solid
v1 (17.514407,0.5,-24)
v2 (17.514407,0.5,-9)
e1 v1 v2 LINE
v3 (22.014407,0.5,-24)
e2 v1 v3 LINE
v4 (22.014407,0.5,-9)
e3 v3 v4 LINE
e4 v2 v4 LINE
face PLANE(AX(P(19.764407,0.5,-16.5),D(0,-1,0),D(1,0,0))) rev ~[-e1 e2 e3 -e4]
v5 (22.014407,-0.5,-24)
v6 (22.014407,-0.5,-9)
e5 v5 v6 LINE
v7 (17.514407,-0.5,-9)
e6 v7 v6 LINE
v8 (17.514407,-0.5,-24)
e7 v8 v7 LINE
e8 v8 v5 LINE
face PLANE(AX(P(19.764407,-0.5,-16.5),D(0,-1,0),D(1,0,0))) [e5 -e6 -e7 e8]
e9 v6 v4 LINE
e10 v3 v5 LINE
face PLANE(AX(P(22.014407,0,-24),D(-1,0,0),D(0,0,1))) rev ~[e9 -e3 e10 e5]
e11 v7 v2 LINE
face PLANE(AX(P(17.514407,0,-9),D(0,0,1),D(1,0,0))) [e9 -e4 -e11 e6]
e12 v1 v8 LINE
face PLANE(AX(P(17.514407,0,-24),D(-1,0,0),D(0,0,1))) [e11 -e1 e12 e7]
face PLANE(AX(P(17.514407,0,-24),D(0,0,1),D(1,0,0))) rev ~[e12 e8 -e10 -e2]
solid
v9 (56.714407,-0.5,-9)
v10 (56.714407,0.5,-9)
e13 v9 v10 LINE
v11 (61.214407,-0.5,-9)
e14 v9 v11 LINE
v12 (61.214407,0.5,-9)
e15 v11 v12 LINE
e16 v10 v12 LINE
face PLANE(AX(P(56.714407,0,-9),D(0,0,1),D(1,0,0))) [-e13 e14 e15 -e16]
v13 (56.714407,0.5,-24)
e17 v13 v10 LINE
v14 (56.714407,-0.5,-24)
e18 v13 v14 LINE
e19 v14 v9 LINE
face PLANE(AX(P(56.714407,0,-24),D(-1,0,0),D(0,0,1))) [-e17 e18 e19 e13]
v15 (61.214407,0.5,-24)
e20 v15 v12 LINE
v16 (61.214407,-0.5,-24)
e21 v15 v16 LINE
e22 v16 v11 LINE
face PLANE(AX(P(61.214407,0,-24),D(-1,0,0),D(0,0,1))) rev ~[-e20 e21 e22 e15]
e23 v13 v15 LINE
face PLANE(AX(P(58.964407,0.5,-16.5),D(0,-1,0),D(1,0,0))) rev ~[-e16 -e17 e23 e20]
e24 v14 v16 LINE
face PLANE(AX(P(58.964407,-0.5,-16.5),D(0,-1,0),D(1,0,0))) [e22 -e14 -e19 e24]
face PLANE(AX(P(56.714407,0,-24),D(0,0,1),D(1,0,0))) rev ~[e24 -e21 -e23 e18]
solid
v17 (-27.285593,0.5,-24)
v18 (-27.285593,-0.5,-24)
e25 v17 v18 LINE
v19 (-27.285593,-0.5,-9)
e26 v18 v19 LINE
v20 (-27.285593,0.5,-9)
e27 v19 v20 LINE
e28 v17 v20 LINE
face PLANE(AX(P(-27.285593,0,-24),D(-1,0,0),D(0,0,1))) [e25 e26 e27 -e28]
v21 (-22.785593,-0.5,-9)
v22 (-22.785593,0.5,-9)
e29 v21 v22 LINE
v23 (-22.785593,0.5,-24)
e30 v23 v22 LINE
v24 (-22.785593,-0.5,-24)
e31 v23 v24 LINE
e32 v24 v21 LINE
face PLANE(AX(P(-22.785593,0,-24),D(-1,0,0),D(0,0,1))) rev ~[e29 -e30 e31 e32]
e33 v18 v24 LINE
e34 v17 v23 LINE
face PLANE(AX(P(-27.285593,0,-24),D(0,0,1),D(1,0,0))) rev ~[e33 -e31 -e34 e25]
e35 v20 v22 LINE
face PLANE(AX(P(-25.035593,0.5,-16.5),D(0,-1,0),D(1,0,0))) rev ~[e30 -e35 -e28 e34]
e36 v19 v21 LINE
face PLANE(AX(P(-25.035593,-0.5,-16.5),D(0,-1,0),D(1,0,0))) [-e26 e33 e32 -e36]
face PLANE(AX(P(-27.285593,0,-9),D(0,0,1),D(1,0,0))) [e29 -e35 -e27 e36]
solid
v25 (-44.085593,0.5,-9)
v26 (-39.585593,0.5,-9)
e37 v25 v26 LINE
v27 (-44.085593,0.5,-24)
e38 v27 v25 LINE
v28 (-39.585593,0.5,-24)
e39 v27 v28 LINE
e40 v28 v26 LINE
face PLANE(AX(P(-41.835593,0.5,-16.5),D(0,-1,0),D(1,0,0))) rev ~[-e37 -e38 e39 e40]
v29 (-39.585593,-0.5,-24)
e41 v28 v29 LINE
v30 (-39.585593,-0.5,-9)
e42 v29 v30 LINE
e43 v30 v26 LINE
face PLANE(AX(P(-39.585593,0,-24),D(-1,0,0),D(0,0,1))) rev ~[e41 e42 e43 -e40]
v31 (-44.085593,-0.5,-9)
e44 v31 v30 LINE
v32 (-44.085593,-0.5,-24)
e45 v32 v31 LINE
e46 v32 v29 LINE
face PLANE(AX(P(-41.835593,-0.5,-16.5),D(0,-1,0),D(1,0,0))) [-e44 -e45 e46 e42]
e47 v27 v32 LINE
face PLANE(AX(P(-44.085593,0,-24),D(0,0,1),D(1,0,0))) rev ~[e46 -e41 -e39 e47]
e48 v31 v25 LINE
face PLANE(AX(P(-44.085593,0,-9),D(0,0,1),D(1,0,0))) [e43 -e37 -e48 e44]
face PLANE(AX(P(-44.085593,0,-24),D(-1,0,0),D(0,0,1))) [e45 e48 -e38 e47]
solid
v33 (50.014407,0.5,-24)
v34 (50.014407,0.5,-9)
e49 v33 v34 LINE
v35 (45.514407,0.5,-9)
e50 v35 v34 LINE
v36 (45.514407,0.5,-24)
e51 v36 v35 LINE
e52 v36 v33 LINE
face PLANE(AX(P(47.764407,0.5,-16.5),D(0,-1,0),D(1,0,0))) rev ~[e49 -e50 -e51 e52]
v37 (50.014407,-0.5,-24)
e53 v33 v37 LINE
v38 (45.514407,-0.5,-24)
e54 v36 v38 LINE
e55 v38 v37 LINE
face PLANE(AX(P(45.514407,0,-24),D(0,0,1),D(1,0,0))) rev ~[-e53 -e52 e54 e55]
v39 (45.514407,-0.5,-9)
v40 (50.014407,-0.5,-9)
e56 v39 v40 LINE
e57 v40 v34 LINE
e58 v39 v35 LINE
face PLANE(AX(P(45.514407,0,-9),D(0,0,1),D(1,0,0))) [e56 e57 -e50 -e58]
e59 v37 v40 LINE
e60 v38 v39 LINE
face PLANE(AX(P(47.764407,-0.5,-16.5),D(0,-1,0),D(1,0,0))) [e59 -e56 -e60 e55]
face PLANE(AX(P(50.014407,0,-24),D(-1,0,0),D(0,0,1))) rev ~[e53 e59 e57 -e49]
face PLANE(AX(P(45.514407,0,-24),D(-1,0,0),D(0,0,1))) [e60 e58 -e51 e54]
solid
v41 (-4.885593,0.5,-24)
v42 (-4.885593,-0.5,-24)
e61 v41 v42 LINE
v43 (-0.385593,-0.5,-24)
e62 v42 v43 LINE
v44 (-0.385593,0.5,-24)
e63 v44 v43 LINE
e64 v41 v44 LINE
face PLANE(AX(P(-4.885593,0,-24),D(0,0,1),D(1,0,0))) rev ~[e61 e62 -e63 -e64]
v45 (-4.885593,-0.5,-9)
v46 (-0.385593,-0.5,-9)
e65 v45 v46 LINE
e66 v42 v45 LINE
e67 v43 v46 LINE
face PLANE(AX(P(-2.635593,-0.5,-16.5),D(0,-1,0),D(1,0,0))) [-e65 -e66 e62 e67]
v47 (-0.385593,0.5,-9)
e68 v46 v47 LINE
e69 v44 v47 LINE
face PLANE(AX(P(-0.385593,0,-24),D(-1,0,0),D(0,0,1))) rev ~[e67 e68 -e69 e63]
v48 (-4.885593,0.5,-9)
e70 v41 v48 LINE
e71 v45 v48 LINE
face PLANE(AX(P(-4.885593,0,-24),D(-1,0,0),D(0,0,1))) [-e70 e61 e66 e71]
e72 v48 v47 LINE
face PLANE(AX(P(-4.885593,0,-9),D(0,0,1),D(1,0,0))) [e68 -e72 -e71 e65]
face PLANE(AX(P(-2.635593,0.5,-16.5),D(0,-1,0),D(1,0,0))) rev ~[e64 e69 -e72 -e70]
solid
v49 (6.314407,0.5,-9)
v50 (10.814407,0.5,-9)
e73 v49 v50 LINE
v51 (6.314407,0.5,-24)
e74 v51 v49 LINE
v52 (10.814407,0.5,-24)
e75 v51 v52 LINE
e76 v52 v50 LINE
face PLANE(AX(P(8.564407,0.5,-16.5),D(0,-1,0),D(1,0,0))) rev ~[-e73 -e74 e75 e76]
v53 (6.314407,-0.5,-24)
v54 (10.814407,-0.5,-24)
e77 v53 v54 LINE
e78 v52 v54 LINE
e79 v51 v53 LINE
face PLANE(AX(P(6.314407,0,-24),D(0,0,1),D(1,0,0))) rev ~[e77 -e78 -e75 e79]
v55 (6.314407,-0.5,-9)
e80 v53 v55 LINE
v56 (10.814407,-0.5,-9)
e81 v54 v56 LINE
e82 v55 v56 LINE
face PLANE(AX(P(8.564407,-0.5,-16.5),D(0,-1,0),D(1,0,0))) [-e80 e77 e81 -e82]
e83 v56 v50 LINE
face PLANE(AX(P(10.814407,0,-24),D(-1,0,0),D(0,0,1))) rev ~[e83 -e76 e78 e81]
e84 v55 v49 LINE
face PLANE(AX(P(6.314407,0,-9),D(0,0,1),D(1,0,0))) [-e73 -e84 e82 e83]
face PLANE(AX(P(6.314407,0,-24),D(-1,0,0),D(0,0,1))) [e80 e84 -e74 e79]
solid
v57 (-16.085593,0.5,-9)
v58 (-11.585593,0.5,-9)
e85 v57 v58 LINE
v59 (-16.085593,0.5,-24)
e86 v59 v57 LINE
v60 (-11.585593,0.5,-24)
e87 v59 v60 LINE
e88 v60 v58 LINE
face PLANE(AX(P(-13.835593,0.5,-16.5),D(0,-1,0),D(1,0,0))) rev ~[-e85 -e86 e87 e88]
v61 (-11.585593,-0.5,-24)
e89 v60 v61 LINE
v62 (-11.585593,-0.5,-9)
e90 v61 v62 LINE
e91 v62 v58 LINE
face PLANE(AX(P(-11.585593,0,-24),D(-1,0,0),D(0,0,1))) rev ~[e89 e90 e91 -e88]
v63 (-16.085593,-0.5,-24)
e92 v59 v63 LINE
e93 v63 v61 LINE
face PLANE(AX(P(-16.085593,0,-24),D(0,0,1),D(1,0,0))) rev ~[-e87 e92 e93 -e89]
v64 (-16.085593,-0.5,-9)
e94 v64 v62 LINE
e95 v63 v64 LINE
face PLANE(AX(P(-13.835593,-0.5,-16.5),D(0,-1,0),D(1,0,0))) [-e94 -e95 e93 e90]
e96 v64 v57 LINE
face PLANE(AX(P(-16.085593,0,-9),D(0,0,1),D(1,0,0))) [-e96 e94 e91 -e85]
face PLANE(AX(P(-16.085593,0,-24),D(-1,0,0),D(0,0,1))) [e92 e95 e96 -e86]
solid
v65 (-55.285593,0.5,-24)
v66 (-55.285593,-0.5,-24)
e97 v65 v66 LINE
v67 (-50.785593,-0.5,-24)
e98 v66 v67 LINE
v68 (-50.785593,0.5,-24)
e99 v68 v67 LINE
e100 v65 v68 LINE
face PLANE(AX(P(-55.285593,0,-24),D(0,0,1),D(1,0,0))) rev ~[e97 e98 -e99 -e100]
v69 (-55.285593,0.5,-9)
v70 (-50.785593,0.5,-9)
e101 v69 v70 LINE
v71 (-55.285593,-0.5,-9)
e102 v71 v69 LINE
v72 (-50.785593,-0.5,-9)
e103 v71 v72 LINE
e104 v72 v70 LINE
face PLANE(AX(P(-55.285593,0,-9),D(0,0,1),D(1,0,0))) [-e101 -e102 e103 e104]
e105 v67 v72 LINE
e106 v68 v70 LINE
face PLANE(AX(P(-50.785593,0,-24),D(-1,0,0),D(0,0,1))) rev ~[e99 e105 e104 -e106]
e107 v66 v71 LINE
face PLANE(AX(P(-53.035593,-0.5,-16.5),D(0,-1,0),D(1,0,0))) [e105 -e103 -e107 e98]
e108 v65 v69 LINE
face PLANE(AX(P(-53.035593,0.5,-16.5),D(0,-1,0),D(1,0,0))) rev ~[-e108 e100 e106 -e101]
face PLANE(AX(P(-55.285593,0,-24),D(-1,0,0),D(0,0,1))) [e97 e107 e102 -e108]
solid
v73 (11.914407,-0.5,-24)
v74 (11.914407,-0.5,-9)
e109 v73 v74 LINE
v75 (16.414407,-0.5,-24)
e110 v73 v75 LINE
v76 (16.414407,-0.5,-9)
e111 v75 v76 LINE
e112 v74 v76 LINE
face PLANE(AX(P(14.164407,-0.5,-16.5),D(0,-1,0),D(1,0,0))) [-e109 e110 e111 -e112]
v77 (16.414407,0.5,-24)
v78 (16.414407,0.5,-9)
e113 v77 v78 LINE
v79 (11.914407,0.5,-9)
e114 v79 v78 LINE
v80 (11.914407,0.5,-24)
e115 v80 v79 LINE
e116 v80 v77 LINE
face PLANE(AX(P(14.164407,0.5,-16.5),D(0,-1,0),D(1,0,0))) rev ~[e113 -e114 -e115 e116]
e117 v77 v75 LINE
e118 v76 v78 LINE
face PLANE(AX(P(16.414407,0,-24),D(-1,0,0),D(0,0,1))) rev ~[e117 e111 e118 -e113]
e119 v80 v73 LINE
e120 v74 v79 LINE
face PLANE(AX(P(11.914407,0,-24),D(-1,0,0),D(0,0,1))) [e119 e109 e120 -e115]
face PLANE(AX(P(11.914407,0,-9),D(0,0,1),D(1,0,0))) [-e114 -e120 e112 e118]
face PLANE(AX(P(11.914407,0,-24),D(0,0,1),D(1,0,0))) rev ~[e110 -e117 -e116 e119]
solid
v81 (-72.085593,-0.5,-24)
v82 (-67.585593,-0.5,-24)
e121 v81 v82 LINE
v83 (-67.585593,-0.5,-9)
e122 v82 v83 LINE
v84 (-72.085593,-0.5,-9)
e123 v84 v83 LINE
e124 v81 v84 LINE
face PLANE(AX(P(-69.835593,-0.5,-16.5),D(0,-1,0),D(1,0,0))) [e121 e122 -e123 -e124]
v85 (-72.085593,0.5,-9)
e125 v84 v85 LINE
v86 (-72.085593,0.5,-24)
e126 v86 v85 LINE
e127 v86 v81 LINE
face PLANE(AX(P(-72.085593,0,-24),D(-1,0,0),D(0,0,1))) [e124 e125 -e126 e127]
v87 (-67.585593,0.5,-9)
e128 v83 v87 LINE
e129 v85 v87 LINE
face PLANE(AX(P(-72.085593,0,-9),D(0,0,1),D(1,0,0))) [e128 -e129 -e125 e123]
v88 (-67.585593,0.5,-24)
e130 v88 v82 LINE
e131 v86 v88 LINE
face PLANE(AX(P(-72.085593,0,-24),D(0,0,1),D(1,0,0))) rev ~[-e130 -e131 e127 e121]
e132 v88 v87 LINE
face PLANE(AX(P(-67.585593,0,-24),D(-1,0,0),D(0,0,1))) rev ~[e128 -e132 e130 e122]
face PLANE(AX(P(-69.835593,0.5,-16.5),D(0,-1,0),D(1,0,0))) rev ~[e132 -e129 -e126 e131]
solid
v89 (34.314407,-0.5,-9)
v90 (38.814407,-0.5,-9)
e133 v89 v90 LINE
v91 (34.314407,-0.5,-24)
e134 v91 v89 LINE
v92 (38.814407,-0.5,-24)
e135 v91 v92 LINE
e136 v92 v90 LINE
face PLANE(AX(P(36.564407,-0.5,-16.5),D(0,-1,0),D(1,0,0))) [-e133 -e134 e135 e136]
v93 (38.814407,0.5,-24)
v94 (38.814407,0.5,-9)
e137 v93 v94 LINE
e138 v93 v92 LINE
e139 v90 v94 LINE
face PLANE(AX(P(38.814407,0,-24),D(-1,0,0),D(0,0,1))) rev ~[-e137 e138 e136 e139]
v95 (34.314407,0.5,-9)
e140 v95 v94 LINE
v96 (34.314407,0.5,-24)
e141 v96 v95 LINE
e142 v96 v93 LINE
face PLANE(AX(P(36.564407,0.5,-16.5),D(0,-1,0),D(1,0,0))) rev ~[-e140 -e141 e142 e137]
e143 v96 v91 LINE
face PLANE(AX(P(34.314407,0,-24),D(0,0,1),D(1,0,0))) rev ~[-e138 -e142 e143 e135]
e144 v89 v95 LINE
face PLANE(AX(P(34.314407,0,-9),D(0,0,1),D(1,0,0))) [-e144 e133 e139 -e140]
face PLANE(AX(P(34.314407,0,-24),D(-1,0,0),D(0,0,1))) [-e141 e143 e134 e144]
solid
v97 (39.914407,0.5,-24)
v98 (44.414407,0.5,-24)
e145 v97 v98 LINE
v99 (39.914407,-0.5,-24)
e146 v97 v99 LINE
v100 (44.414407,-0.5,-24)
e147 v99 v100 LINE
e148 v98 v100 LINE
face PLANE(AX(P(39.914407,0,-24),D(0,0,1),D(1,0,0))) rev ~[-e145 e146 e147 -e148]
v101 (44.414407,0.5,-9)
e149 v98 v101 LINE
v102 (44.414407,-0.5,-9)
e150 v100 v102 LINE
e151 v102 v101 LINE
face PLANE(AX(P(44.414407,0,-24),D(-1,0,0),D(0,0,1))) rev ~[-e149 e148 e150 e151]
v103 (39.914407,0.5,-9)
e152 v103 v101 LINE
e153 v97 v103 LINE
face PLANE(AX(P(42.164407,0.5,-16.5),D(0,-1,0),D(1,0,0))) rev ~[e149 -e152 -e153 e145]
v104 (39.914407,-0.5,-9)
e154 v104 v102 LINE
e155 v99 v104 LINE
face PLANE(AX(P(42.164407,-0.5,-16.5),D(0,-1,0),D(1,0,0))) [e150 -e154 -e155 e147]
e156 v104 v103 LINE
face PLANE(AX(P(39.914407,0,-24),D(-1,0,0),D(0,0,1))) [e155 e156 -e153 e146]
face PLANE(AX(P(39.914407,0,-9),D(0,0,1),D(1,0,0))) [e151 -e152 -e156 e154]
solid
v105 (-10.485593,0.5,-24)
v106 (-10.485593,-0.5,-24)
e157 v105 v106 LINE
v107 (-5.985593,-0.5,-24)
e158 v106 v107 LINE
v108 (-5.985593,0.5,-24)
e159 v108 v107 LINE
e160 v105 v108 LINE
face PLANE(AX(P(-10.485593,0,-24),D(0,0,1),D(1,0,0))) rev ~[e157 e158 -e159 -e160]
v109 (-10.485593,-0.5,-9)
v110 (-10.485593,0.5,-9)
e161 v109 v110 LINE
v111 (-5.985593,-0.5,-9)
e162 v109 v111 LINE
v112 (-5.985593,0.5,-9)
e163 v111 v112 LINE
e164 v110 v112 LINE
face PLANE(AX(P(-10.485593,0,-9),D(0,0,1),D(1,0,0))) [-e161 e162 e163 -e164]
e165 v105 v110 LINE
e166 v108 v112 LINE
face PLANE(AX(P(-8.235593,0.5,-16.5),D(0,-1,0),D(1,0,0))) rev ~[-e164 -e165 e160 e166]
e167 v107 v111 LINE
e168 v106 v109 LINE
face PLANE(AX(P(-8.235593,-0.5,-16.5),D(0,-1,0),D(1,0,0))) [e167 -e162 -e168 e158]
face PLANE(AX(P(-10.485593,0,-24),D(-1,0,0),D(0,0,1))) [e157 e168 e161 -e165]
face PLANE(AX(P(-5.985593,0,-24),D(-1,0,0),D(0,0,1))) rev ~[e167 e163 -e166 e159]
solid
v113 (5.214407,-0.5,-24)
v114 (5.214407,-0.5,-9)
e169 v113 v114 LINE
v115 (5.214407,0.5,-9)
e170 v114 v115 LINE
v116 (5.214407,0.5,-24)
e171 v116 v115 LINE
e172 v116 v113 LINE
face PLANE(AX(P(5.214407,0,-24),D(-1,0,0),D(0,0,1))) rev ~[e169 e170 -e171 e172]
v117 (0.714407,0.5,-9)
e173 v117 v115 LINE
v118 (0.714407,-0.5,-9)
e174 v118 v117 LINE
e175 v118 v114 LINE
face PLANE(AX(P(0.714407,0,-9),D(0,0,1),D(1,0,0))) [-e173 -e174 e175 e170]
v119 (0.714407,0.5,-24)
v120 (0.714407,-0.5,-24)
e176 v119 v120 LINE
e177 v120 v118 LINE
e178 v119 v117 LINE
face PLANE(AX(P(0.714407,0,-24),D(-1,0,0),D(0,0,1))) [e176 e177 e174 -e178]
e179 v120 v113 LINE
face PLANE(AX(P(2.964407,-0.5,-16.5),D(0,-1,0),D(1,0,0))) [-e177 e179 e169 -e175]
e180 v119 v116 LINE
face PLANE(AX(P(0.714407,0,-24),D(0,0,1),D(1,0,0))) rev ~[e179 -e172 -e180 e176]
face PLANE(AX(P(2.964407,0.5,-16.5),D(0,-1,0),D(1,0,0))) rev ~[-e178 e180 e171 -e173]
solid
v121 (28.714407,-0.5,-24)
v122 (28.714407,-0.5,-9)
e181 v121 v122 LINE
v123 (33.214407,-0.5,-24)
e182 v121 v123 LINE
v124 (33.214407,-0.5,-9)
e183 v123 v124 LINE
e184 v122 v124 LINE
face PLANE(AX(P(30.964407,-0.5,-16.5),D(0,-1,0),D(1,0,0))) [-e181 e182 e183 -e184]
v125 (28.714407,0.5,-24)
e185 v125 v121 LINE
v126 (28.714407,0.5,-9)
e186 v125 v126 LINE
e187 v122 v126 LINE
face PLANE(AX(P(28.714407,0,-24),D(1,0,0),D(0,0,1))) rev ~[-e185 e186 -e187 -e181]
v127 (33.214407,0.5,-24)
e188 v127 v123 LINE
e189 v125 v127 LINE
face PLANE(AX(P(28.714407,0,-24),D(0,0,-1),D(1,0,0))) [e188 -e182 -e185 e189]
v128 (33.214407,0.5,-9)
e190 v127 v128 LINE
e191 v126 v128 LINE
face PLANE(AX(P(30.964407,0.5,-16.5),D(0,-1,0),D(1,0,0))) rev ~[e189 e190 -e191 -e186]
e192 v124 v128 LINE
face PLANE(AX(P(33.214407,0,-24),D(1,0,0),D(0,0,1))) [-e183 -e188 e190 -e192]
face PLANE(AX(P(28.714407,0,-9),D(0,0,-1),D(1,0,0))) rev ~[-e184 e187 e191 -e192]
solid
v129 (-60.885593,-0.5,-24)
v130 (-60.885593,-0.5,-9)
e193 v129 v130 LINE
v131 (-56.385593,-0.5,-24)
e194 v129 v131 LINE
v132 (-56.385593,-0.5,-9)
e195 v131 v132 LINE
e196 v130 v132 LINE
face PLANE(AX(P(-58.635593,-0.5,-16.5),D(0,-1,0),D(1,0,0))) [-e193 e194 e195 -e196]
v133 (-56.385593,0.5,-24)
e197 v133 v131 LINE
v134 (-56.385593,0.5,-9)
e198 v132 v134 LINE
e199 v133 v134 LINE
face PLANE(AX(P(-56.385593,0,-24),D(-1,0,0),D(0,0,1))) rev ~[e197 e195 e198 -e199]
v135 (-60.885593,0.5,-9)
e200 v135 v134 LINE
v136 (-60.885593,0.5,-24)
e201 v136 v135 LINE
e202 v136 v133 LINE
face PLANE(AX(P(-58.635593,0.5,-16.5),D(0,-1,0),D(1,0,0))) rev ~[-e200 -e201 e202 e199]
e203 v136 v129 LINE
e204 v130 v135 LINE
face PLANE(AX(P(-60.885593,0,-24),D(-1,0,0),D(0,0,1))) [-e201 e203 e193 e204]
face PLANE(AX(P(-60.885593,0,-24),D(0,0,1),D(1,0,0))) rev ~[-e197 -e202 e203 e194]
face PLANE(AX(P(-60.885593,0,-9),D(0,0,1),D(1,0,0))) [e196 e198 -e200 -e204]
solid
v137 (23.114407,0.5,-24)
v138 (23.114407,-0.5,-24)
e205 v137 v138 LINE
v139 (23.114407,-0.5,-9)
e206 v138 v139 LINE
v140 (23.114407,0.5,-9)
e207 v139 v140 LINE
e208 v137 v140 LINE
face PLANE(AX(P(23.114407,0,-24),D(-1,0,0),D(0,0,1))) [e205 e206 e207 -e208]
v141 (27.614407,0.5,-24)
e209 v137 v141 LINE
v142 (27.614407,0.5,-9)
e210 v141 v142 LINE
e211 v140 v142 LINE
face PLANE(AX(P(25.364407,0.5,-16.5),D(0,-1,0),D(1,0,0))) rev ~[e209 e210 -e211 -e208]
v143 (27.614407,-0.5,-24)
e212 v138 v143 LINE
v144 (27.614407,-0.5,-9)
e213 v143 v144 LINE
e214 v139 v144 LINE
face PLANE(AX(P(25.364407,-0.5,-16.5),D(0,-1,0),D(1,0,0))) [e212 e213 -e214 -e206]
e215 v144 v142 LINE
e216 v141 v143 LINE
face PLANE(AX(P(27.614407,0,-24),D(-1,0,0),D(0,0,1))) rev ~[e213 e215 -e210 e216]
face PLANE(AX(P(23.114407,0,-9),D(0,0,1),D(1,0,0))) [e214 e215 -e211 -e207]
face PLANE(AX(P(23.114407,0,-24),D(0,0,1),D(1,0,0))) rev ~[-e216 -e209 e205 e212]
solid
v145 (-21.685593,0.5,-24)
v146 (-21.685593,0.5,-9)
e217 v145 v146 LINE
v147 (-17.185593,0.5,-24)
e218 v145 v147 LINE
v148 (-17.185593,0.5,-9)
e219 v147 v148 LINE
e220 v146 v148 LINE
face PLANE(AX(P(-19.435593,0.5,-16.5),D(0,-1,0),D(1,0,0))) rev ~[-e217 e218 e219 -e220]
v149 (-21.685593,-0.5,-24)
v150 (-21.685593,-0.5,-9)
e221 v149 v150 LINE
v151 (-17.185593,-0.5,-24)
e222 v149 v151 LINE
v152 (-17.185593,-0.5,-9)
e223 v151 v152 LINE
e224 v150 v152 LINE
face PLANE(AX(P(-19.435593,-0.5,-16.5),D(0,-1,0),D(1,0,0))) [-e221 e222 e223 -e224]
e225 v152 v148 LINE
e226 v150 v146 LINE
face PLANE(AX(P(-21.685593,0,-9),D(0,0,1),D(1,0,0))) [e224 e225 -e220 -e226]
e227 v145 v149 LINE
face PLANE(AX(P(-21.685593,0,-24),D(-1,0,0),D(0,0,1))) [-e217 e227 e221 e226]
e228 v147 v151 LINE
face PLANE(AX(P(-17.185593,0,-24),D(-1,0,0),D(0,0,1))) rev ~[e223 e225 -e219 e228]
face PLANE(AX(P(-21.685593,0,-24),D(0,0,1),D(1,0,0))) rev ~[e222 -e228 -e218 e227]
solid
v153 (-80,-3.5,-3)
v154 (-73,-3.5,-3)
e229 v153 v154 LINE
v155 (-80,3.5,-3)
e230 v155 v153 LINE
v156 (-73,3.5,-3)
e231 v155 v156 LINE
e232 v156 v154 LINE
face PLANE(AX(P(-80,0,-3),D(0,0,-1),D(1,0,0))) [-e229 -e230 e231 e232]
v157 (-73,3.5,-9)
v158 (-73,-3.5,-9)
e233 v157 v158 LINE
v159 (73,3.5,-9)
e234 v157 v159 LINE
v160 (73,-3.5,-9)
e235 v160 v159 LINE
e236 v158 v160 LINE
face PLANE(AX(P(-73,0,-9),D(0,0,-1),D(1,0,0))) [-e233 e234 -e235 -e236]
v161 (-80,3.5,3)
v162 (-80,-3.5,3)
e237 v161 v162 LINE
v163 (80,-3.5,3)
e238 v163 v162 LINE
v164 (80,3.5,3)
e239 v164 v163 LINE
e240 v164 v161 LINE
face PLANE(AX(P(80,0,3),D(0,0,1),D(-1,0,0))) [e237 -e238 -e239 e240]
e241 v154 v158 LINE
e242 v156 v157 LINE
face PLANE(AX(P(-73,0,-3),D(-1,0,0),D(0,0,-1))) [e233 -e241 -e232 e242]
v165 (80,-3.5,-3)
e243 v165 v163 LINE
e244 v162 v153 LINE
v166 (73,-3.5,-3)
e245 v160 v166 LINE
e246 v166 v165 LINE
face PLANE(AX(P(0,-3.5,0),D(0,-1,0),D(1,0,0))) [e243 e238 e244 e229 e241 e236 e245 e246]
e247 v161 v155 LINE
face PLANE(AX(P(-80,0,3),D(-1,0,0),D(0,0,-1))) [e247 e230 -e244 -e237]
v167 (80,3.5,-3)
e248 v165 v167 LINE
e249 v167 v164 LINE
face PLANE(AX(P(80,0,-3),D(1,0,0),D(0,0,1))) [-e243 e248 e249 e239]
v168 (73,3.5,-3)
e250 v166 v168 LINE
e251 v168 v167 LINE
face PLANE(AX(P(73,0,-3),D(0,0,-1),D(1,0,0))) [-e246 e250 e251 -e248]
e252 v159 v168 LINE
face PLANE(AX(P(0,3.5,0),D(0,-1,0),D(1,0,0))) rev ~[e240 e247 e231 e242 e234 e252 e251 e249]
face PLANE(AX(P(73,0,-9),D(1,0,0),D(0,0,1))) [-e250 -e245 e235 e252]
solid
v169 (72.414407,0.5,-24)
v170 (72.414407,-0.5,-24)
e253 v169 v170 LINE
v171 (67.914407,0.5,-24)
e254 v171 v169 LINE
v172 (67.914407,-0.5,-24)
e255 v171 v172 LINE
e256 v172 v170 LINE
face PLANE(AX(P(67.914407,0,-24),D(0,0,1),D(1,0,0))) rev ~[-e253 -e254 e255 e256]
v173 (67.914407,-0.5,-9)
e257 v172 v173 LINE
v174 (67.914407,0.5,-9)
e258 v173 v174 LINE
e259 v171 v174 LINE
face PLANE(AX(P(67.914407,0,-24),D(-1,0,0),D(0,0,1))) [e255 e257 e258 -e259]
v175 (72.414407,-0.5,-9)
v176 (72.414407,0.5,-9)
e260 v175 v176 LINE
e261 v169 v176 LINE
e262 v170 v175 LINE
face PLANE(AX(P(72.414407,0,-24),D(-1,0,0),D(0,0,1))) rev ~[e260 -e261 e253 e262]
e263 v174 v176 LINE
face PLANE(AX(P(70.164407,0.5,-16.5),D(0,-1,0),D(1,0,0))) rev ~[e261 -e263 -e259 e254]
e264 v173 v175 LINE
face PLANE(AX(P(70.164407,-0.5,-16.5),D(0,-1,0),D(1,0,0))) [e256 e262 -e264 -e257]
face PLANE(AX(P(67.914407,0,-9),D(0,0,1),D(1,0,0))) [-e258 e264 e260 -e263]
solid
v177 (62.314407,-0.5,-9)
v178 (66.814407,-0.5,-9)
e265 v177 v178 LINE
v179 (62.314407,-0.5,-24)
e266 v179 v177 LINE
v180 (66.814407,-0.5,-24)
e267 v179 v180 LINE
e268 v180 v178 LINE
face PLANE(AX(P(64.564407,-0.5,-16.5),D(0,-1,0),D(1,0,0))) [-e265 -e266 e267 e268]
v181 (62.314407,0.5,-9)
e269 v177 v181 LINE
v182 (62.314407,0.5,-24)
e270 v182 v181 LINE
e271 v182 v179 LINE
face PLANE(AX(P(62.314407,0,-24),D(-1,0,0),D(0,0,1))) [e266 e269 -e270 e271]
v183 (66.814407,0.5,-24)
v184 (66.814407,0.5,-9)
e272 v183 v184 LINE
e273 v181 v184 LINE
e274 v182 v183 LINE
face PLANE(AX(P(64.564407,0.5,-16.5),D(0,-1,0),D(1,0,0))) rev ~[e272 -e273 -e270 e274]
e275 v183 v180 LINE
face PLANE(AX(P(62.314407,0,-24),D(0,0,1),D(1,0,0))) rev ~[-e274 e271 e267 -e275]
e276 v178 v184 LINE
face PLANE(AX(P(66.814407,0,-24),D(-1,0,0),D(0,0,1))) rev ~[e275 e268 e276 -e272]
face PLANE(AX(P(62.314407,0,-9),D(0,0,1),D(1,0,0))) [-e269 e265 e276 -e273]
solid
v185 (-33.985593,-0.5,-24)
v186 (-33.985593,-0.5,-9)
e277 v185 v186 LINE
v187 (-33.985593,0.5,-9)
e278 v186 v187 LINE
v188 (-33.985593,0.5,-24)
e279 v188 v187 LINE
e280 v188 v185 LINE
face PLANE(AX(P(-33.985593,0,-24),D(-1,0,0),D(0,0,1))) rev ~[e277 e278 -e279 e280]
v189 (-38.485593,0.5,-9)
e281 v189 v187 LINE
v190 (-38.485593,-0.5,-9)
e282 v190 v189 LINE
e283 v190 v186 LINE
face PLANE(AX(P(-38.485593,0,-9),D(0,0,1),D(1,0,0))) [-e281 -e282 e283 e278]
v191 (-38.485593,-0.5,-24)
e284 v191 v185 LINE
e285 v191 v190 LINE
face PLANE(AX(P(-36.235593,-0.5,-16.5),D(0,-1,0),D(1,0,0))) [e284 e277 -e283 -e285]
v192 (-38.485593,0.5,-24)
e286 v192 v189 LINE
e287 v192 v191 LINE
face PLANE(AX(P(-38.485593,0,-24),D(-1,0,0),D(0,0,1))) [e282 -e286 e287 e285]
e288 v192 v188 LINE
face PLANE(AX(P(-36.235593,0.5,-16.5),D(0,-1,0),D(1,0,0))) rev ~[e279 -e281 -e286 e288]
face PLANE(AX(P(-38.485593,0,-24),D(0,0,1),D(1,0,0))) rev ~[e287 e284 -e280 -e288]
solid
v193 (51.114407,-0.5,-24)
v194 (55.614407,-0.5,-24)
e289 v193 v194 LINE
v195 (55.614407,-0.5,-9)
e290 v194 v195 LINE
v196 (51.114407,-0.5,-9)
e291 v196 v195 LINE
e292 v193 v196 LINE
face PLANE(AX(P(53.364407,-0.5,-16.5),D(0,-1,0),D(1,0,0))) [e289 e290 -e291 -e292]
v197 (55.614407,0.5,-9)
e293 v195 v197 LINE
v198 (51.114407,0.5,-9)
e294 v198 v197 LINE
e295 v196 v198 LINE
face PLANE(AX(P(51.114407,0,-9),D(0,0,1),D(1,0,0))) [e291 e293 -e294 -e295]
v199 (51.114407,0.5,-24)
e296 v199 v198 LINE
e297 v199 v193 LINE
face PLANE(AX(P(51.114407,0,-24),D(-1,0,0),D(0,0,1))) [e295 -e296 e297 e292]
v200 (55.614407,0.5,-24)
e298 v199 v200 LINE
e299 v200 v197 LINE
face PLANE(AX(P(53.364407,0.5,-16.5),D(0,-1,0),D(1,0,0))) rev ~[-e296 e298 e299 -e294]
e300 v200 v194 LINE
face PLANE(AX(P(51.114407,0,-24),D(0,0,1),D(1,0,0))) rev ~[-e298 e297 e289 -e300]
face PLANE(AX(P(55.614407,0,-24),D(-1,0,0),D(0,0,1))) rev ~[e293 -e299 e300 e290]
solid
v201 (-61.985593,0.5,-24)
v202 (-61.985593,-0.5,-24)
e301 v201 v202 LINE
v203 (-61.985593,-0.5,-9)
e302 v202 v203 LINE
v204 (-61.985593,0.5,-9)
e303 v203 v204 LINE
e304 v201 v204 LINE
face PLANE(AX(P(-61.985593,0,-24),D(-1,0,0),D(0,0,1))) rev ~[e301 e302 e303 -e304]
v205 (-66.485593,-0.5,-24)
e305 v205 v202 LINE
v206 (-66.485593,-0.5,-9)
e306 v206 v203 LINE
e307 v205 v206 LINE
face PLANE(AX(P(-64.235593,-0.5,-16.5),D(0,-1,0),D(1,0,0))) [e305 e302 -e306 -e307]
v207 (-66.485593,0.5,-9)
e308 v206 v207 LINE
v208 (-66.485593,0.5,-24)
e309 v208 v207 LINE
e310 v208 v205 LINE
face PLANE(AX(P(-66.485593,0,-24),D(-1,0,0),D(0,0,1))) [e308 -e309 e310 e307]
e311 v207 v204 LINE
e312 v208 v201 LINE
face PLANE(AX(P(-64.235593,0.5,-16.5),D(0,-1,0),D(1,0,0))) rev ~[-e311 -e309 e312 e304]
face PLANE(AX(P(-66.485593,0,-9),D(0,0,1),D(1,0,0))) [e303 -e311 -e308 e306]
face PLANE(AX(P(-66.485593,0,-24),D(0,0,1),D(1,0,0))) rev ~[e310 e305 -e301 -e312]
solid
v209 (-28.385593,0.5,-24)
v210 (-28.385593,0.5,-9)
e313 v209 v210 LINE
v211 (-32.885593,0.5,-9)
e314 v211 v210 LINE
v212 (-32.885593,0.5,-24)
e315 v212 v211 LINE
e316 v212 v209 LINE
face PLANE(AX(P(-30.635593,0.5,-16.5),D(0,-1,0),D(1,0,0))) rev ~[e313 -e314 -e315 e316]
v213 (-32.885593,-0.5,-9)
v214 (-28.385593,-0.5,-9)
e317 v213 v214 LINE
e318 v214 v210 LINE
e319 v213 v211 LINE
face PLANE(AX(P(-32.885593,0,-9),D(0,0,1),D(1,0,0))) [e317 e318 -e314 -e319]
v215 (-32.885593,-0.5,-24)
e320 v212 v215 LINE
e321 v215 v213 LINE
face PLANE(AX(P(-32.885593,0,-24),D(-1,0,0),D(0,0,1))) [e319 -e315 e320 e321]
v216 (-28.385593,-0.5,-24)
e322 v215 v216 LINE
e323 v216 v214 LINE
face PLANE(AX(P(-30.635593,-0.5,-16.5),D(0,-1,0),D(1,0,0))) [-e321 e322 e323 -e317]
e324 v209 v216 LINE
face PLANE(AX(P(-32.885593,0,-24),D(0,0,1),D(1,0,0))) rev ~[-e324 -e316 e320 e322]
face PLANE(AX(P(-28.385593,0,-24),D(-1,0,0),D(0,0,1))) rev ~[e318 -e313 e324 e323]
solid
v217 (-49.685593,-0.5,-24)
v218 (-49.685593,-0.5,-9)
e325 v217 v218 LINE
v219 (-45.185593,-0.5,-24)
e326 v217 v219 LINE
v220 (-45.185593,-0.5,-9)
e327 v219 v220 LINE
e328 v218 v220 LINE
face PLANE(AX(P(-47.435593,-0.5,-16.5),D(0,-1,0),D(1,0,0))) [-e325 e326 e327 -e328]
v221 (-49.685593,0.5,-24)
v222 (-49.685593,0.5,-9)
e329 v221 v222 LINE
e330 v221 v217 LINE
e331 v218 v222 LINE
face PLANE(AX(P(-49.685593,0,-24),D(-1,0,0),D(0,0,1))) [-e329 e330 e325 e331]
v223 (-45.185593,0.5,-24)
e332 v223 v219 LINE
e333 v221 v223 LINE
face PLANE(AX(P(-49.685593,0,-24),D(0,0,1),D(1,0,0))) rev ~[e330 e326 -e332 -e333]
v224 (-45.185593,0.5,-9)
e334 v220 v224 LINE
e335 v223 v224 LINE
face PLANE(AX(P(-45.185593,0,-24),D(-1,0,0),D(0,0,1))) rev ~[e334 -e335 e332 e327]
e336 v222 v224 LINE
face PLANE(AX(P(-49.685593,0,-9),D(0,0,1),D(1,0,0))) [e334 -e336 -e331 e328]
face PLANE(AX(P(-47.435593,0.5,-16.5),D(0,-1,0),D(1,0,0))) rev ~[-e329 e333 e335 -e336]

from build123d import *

# Parameters (mm, degrees)
F0_W     = 4.5
F0_H     = 15
F1_DEPTH = 0.5
F2_DEPTH = 3.5


with BuildPart() as f1:
    # F0 (on Front) → F1 (new body, symmetric)
    with BuildSketch(Plane.XZ):
        with Locations((70.164407, -16.5)):
            Rectangle(F0_W, F0_H)
        with Locations((53.364407, -16.5)):
            Rectangle(F0_W, F0_H)
        with Locations((58.964407, -16.5)):
            Rectangle(F0_W, F0_H)
        with Locations((19.764407, -16.5)):
            Rectangle(F0_W, F0_H)
        with Locations((64.564407, -16.5)):
            Rectangle(F0_W, F0_H)
        with Locations((25.364407, -16.5)):
            Rectangle(F0_W, F0_H)
        with Locations((-8.235593, -16.5)):
            Rectangle(F0_W, F0_H)
        with Locations((-13.835593, -16.5)):
            Rectangle(F0_W, F0_H)
        with Locations((-19.435593, -16.5)):
            Rectangle(F0_W, F0_H)
        with Locations((-30.635593, -16.5)):
            Rectangle(F0_W, F0_H)
        with Locations((-25.035593, -16.5)):
            Rectangle(F0_W, F0_H)
        with Locations((-36.235593, -16.5)):
            Rectangle(F0_W, F0_H)
        with Locations((-41.835593, -16.5)):
            Rectangle(F0_W, F0_H)
        with Locations((-47.435593, -16.5)):
            Rectangle(F0_W, F0_H)
        with Locations((-53.035593, -16.5)):
            Rectangle(F0_W, F0_H)
        with Locations((-58.635593, -16.5)):
            Rectangle(F0_W, F0_H)
        with Locations((-64.235593, -16.5)):
            Rectangle(F0_W, F0_H)
        with Locations((-69.835593, -16.5)):
            Rectangle(F0_W, F0_H)
        with Locations((14.164407, -16.5)):
            Rectangle(F0_W, F0_H)
        with Locations((2.964407, -16.5)):
            Rectangle(F0_W, F0_H)
        with Locations((-2.635593, -16.5)):
            Rectangle(F0_W, F0_H)
        with Locations((8.564407, -16.5)):
            Rectangle(F0_W, F0_H)
        with Locations((47.764407, -16.5)):
            Rectangle(F0_W, F0_H)
        with Locations((42.164407, -16.5)):
            Rectangle(F0_W, F0_H)
        with Locations((36.564407, -16.5)):
            Rectangle(F0_W, F0_H)
        with Locations((30.964407, -16.5)):
            Rectangle(F0_W, F0_H)
    extrude(amount=F1_DEPTH, both=True)


with BuildPart() as f2:
    # F0 (on Front) → F2 (new body, symmetric)
    with BuildSketch(Plane.XZ):
        Polygon((80, -3), (80, 3), (-80, 3), (-80, -3), (-73, -3), (73, -3), align=None)
        Polygon((73, -9), (73, -3), (-73, -3), (-73, -9), (-72.085593, -9), (-67.585593, -9), (-66.485593, -9), (-61.985593, -9), (-60.885593, -9), (-56.385593, -9), (-55.285593, -9), (-50.785593, -9), (-49.685593, -9), (-45.185593, -9), (-44.085593, -9), (-39.585593, -9), (-38.485593, -9), (-33.985593, -9), (-32.885593, -9), (-28.385593, -9), (-27.285593, -9), (-22.785593, -9), (-21.685593, -9), (-17.185593, -9), (-16.085593, -9), (-11.585593, -9), (-10.485593, -9), (-5.985593, -9), (-4.885593, -9), (-0.385593, -9), (0.714407, -9), (5.214407, -9), (6.314407, -9), (10.814407, -9), (11.914407, -9), (16.414407, -9), (17.514407, -9), (22.014407, -9), (23.114407, -9), (27.614407, -9), (28.714407, -9), (33.214407, -9), (34.314407, -9), (38.814407, -9), (39.914407, -9), (44.414407, -9), (45.514407, -9), (50.014407, -9), (51.114407, -9), (55.614407, -9), (56.714407, -9), (61.214407, -9), (62.314407, -9), (66.814407, -9), (67.914407, -9), (72.414407, -9), align=None)
    extrude(amount=F2_DEPTH, both=True)


solid = Compound([f1.part, f2.part])
